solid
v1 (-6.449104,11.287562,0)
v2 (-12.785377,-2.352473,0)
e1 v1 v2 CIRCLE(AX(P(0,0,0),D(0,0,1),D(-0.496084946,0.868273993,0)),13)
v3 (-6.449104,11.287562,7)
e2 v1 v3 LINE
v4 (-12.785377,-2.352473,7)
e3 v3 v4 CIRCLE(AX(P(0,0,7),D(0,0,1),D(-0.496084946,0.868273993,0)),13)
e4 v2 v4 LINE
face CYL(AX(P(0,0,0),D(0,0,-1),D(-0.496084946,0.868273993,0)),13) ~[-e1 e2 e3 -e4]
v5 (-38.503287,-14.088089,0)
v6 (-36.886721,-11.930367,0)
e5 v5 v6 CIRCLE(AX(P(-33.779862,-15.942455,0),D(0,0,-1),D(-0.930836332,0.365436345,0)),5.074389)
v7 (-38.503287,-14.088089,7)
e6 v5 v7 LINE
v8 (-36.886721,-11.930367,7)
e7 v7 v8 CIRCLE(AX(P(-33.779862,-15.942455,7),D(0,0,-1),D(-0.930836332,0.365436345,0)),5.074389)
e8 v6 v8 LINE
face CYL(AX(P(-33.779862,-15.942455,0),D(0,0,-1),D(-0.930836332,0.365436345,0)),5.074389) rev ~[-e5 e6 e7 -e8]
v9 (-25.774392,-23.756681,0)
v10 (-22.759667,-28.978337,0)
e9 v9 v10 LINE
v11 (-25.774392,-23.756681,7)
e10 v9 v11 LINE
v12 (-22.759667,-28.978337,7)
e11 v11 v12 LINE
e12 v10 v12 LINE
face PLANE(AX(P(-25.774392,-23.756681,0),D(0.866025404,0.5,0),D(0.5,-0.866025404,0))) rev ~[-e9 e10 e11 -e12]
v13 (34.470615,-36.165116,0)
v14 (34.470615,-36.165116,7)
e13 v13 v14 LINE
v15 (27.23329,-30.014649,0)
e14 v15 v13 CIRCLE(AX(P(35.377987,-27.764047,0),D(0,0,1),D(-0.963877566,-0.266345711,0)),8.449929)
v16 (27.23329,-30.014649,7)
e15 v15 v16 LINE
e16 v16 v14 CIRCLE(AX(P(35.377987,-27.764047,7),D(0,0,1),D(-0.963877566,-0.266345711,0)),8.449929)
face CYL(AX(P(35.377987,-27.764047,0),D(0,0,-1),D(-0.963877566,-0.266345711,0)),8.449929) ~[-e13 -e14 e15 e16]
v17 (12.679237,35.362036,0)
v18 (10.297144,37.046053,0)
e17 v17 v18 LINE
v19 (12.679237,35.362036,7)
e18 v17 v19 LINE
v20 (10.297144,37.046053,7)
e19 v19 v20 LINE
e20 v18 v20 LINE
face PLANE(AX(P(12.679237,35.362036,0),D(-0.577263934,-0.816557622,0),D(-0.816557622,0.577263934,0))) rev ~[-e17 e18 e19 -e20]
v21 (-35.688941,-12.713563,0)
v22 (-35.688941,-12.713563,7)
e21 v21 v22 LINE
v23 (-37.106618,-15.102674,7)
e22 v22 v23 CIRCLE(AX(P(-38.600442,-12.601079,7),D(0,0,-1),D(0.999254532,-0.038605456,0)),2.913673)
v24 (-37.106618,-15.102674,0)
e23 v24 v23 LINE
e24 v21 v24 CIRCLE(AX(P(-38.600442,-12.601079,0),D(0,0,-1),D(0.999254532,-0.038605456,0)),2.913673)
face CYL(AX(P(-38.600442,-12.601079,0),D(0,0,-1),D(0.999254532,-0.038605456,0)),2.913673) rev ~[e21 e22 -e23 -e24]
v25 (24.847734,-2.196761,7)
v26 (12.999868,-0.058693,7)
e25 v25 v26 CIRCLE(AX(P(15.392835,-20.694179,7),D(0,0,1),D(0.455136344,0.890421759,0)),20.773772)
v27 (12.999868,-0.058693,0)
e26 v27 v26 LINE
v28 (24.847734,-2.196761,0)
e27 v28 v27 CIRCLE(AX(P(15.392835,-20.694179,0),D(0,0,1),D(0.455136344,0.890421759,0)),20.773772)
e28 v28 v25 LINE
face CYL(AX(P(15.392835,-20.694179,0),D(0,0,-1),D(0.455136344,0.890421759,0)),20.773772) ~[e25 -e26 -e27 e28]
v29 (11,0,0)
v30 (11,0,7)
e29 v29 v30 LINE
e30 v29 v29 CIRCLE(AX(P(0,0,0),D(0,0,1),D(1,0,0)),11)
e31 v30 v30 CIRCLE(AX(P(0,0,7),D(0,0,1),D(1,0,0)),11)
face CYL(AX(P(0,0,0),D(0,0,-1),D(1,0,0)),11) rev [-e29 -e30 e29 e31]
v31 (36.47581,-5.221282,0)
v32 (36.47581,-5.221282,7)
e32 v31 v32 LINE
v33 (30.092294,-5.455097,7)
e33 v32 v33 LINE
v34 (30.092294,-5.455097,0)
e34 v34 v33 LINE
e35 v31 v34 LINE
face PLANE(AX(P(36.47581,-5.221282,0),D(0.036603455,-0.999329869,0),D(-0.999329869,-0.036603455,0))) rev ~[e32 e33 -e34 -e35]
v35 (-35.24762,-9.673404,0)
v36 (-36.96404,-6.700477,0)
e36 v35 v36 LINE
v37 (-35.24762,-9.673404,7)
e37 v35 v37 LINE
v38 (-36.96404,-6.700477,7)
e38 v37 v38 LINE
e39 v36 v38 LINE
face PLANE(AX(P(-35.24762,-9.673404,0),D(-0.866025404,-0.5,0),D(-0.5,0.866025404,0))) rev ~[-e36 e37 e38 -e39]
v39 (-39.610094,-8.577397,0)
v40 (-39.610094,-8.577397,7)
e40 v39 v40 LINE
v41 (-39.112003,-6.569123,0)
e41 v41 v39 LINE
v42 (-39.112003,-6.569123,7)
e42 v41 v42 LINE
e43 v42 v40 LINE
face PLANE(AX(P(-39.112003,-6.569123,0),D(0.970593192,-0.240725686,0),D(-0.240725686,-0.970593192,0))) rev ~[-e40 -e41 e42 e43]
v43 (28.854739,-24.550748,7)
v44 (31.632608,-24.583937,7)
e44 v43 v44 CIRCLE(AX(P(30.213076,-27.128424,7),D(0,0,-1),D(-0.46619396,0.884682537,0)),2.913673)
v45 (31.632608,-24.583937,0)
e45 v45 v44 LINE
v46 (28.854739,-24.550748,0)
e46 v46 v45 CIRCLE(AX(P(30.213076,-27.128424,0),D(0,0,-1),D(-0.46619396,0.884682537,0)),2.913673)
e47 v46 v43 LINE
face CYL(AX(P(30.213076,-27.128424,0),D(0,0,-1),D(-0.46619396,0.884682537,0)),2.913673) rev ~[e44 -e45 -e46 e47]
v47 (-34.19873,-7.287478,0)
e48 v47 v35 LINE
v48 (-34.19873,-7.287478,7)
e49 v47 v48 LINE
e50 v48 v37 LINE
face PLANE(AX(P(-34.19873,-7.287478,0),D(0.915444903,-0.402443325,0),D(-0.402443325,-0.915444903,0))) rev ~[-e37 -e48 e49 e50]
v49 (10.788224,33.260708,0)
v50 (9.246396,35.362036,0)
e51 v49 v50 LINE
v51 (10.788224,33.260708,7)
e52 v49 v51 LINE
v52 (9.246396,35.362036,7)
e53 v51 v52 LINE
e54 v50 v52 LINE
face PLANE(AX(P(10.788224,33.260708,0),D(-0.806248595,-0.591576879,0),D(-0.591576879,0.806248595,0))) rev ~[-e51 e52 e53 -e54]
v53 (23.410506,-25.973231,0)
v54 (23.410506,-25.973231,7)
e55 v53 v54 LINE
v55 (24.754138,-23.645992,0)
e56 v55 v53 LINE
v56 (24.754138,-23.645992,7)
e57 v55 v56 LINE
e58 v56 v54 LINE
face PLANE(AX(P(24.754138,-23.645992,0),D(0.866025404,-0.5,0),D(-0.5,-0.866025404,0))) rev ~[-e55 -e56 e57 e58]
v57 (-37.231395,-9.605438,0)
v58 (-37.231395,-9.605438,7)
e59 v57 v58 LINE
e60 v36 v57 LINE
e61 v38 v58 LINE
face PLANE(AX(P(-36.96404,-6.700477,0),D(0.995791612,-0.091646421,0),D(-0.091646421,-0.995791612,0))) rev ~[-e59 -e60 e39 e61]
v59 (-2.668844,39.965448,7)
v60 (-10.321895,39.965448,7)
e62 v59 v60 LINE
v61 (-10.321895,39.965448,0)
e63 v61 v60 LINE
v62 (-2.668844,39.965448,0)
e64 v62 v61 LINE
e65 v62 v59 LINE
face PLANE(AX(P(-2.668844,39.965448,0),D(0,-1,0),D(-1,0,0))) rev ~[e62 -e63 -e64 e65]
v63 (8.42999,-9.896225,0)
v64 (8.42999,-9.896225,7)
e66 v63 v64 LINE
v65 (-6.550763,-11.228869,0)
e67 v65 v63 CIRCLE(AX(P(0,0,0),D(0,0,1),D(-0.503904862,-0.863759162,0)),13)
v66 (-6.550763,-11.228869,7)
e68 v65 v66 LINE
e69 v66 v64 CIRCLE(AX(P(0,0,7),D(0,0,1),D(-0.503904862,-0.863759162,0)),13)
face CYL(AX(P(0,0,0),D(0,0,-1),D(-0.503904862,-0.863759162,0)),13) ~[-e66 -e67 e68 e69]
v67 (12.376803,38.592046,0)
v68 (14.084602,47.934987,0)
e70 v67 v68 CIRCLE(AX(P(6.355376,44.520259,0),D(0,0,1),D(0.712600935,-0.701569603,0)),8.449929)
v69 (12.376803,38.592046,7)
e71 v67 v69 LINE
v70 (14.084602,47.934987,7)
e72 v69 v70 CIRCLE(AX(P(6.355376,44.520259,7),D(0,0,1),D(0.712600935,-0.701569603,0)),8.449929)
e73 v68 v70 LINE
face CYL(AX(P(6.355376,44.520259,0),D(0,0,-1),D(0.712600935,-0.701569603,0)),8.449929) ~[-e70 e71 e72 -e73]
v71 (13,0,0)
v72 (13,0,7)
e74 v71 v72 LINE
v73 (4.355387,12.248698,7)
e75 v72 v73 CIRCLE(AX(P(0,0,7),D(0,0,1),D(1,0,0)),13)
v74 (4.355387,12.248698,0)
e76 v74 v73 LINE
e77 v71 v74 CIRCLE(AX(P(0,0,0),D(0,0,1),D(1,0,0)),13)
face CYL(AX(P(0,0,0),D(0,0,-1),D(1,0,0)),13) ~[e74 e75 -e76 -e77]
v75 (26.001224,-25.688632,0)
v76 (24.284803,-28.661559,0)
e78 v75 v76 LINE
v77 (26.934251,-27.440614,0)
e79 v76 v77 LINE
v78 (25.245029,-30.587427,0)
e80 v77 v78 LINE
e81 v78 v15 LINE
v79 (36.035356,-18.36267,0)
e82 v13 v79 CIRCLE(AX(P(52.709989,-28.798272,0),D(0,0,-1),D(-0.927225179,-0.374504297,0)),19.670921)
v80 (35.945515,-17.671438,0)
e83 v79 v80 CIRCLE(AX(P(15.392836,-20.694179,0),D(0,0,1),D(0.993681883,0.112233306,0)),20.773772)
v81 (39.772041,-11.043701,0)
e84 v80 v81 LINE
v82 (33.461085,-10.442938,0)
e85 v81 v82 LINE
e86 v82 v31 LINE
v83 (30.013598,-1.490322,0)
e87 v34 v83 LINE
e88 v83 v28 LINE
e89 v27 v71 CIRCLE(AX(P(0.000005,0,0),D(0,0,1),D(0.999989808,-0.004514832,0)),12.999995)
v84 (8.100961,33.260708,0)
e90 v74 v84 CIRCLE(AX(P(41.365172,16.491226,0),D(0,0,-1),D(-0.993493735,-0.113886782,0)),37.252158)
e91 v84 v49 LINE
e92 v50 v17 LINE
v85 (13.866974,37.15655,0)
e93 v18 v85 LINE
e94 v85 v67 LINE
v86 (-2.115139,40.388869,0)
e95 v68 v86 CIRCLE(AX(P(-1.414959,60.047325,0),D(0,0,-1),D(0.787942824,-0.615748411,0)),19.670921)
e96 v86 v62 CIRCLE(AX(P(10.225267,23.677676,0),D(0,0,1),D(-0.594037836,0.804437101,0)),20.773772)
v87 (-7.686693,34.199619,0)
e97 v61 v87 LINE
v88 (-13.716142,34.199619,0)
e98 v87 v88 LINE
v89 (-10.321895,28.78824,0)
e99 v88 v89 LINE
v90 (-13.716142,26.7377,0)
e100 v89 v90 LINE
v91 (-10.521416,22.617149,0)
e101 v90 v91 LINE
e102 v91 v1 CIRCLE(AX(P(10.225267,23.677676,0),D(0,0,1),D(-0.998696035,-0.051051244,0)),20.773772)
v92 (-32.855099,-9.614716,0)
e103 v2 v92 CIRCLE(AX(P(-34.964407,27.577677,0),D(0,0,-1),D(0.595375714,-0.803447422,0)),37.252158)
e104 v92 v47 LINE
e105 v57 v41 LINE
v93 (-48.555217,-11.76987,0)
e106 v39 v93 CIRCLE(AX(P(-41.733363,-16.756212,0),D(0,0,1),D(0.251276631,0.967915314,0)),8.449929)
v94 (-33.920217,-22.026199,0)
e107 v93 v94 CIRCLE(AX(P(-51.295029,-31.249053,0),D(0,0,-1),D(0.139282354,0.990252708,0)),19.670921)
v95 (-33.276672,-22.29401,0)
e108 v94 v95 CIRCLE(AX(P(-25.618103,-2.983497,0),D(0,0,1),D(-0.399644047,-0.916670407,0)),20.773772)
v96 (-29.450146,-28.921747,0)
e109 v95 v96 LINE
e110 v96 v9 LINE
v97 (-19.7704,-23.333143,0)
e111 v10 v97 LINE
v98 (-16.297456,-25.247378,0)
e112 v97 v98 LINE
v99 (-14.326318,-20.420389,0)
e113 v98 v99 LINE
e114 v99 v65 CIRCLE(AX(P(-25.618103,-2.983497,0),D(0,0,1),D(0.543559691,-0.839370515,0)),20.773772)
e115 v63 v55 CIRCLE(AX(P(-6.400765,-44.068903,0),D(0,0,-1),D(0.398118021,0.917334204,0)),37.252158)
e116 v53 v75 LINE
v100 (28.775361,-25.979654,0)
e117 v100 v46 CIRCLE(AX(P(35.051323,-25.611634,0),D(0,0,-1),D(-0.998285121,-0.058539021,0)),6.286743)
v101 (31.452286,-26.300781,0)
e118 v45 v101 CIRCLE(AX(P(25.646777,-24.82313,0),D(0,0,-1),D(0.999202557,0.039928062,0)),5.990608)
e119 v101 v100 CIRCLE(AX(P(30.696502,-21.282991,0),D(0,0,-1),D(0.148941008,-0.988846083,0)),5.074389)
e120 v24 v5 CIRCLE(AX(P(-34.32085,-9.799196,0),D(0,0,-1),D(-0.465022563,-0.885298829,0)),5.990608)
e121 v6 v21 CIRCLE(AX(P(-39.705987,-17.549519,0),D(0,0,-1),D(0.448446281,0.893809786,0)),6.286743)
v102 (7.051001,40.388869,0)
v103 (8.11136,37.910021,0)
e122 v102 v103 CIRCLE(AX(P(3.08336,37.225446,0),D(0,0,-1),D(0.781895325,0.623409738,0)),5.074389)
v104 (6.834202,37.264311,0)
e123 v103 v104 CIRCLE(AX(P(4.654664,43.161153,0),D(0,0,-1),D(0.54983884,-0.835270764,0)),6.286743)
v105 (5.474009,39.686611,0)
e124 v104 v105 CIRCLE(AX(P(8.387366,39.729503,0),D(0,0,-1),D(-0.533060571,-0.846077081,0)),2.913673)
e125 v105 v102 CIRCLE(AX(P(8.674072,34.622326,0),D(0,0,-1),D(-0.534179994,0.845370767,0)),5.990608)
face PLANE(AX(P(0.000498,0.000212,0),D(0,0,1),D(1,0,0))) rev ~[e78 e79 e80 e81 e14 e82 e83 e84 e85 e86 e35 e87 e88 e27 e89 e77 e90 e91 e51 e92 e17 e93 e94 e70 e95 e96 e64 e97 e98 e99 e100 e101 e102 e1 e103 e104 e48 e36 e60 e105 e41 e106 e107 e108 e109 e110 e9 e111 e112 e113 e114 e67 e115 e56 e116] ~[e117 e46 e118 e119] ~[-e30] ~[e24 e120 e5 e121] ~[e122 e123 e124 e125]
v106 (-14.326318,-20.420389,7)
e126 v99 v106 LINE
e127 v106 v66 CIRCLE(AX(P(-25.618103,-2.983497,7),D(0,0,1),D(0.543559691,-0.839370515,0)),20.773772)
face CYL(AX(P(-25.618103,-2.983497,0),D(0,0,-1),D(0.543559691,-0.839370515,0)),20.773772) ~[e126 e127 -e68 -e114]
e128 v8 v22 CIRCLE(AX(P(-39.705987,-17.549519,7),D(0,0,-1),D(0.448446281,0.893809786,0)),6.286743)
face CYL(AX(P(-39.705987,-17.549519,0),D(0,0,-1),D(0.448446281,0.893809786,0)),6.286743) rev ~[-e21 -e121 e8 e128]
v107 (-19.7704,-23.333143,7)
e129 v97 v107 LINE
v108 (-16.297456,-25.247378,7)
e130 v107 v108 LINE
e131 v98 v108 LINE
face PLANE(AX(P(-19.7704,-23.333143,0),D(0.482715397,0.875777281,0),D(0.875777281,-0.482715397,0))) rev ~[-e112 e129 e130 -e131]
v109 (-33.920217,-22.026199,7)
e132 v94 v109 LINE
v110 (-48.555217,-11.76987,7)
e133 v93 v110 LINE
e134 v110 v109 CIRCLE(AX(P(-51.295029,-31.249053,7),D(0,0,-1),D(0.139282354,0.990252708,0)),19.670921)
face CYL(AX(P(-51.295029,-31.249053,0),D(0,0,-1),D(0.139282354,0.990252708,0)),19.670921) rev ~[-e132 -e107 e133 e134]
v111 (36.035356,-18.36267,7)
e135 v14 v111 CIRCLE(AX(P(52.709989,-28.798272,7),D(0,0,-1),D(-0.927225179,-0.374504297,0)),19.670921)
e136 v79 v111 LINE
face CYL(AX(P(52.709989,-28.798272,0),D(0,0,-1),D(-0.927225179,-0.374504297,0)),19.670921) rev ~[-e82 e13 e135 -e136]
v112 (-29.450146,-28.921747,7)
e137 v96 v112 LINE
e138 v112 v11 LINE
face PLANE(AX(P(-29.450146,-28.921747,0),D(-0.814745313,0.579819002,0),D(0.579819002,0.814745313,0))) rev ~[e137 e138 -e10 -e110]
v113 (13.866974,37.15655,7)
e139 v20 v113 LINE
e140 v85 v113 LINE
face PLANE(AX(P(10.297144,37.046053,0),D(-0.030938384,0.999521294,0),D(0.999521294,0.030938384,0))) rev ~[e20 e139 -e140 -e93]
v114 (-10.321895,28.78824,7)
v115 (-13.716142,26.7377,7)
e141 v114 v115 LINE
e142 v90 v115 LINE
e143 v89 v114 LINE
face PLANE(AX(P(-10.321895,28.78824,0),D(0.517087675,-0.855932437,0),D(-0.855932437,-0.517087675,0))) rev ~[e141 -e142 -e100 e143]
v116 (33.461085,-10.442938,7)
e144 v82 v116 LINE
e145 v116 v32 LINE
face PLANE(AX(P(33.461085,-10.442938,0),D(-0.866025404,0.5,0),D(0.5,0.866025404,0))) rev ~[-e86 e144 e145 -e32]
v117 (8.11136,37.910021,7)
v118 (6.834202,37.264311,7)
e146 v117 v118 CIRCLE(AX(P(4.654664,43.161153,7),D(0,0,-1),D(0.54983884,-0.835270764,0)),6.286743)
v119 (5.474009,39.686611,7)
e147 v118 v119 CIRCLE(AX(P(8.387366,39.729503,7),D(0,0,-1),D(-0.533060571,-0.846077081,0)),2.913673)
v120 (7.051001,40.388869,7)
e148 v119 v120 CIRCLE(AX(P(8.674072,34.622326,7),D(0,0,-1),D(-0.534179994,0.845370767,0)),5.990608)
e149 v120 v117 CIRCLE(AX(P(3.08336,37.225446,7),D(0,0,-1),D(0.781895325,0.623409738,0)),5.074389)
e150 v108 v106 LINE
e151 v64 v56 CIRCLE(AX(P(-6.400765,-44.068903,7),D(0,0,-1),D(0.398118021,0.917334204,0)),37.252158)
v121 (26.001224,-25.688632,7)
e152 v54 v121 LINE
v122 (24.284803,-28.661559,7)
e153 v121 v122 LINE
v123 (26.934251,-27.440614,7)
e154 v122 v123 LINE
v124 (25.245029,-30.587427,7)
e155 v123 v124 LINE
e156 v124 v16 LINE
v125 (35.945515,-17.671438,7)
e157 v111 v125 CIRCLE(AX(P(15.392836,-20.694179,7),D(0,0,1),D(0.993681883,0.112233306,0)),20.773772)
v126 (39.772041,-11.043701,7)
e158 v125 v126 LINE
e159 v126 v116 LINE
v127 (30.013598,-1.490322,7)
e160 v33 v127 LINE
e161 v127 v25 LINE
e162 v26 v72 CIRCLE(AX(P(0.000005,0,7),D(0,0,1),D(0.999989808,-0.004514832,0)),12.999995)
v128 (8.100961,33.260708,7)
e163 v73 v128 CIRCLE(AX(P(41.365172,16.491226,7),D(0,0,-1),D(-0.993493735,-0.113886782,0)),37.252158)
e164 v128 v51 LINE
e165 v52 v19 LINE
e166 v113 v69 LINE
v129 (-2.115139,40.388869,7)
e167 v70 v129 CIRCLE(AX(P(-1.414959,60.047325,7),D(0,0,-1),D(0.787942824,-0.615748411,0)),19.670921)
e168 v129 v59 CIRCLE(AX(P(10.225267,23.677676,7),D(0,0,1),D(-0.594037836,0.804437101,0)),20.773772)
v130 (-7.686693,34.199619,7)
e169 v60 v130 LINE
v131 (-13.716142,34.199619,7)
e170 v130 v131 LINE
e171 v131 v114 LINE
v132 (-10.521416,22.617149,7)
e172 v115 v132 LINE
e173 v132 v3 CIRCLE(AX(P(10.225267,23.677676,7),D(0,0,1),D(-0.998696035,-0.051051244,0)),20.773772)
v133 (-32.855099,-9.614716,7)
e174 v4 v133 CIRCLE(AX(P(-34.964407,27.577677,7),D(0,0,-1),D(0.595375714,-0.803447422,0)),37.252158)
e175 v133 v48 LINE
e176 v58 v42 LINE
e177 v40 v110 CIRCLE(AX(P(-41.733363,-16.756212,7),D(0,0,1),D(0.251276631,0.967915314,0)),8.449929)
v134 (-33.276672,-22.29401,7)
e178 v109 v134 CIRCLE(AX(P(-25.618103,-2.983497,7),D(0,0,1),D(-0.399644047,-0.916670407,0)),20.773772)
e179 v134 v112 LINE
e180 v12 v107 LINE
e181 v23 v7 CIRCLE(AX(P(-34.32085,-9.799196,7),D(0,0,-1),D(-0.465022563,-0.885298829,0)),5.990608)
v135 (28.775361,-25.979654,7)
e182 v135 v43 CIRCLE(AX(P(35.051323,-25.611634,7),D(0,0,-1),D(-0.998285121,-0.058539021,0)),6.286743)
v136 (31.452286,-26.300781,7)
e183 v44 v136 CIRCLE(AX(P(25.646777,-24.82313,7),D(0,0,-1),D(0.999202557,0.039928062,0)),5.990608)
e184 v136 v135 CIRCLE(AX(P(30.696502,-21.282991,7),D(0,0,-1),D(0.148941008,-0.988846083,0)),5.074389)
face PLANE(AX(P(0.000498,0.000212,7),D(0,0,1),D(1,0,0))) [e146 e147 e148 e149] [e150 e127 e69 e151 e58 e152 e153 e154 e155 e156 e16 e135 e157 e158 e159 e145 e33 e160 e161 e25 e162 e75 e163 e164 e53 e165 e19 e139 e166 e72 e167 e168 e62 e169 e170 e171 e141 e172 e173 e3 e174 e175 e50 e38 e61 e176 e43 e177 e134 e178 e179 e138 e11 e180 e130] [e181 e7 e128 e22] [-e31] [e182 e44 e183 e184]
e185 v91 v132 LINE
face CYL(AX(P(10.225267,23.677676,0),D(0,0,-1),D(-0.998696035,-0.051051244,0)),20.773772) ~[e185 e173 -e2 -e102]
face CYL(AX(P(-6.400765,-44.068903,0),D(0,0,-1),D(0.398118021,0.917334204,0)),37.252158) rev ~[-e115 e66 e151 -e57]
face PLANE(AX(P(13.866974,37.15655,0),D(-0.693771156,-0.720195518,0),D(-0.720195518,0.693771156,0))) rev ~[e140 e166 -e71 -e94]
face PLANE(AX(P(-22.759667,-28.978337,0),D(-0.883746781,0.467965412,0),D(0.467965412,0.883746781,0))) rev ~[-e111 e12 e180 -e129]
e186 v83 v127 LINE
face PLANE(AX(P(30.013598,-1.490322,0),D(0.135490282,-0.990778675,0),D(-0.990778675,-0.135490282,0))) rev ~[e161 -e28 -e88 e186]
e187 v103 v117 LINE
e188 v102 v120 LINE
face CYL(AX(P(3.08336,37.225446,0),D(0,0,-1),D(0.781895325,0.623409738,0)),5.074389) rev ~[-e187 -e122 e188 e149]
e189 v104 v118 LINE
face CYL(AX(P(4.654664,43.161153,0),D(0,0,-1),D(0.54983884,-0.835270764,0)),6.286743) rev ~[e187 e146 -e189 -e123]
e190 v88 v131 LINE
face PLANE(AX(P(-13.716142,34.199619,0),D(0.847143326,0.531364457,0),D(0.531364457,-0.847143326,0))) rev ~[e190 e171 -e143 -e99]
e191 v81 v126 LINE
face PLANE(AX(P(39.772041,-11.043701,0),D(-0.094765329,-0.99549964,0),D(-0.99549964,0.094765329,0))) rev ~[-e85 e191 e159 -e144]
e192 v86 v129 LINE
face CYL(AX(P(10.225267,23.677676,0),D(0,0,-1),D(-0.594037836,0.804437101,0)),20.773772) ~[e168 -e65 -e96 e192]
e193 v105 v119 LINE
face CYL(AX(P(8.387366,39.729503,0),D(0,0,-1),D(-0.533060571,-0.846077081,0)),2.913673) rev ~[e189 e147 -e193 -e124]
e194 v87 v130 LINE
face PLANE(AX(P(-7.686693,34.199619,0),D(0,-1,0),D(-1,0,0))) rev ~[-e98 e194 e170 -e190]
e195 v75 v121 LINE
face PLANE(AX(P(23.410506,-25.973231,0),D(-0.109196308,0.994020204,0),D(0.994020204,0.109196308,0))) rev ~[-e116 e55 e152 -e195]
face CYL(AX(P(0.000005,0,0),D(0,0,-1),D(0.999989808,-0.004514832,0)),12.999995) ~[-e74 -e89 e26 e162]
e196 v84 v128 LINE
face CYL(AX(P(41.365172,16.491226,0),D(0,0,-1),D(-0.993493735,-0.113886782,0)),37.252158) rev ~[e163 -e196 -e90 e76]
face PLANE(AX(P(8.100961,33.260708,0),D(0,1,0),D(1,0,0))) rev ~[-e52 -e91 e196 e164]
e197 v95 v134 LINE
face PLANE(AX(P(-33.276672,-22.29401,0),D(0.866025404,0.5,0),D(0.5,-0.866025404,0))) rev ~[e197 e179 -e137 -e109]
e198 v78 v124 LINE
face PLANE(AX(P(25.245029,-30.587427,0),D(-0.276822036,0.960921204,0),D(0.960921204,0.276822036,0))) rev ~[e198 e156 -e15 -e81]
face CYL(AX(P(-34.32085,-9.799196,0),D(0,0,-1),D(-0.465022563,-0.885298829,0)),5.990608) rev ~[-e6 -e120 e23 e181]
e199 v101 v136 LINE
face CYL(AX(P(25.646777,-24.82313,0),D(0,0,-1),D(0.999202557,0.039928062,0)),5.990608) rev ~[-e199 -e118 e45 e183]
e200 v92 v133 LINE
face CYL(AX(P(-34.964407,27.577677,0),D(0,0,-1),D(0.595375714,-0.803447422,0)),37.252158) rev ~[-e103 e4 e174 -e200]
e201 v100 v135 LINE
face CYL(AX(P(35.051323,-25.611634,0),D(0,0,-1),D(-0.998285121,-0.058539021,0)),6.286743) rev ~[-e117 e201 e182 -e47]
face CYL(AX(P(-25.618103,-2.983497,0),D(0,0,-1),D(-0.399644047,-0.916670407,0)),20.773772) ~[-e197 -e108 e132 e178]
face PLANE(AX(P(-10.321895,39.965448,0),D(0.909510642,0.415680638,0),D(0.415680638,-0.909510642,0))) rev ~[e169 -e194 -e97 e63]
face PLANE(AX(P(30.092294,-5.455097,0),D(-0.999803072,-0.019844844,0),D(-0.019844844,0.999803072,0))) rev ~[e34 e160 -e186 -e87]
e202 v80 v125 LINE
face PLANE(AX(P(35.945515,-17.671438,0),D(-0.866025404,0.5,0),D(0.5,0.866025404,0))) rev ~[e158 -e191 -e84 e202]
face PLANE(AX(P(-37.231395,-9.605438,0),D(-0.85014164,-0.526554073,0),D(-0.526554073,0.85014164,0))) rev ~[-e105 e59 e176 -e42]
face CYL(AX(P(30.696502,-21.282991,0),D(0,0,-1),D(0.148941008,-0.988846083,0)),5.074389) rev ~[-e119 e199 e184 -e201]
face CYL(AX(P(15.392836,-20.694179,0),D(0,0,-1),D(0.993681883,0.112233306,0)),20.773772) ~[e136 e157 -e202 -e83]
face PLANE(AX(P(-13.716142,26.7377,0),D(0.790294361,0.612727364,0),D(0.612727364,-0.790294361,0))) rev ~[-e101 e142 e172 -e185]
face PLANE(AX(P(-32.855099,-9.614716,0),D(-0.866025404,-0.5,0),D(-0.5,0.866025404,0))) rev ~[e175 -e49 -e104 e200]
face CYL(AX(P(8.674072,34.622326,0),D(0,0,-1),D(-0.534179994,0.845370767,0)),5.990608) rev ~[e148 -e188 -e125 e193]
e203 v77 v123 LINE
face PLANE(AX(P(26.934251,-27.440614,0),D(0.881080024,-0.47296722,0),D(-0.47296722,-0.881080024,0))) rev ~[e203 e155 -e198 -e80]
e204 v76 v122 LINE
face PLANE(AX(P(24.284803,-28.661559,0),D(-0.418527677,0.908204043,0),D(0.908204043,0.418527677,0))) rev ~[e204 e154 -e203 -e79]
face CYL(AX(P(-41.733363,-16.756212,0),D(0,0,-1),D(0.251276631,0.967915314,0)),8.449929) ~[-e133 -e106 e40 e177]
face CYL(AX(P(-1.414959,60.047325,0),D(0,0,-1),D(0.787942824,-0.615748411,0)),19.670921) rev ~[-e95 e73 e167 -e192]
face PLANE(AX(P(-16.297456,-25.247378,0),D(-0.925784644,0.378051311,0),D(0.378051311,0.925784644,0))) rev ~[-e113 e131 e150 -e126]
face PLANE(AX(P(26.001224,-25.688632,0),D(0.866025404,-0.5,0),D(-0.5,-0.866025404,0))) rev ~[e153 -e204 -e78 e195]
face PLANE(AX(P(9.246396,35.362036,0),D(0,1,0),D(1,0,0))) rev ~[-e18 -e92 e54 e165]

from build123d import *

# Parameters (mm, degrees)
F0_R     = 11
F1_DEPTH = 7


with BuildPart() as f1:
    # F0 (on Top) → F1 (new body)
    with BuildSketch(Plane.XY):
        with BuildLine():
            ThreePointArc((12.9998675053, -0.0586928035), (12.9999668763, -0.0293464765), (13, 0))
            ThreePointArc((13, 0), (10.6212058702, 7.4959979898), (4.3553867904, 12.2486981311))
            ThreePointArc((4.3553867904, 12.2486981311), (-1.1518936393, 12.9488663999), (-6.4491042938, 11.2875619072))
            ThreePointArc((-6.4491042938, 11.2875619072), (-11.7899940722, 5.4768640459), (-12.78537714, -2.3524734618))
            ThreePointArc((-12.78537714, -2.3524734618), (-10.6381004329, -7.4720023541), (-6.5507632115, -11.2288691036))
            ThreePointArc((-6.5507632115, -11.2288691036), (1.1518936393, -12.9488663999), (8.4299903496, -9.8962246693))
            ThreePointArc((8.4299903496, -9.8962246693), (11.7899940722, -5.4768640459), (12.9998675053, -0.0586928035))
        make_face()
        Circle(F0_R, mode=Mode.SUBTRACT)
        with BuildLine():
            ThreePointArc((-6.4491042938, 11.2875619072), (-1.1518936393, 12.9488663999), (4.3553867904, 12.2486981311))
            ThreePointArc((4.3553867904, 12.2486981311), (4.6911379091, 23.0286932253), (8.100961018, 33.2607081496))
            ThreePointArc((8.100961018, 33.2607081496), (8.6567992586, 34.3205730834), (9.2463958264, 35.36203634))
            ThreePointArc((9.2463958264, 35.36203634), (9.7605514778, 36.2110441588), (10.2971438318, 37.0460525155))
            ThreePointArc((10.2971438318, 37.0460525155), (11.39658988, 37.7388536244), (12.3768031473, 38.5920458302))
            ThreePointArc((12.3768031473, 38.5920458302), (14.6675808716, 43.0008688553), (14.0846017748, 47.9349866509))
            ThreePointArc((14.0846017748, 47.9349866509), (6.8911464414, 42.2160675911), (-2.1151392079, 40.388869285))
            ThreePointArc((-2.1151392079, 40.388869285), (-2.393767425, 40.1794812412), (-2.668843506, 39.965448099))
            ThreePointArc((-2.668843506, 39.965448099), (-5.4452369878, 37.3153043367), (-7.6866932218, 34.1996187496))
            ThreePointArc((-7.6866932218, 34.1996187496), (-9.9529658293, 28.6161487308), (-10.5214164041, 22.6171494036))
            ThreePointArc((-10.5214164041, 22.6171494036), (-9.323996956, 16.6508797858), (-6.4491042938, 11.2875619072))
        make_face()
        with BuildLine():
            ThreePointArc((7.051001075, 40.388869285), (8.6740724534, 40.6129338137), (10.2971438318, 40.388869285))
            ThreePointArc((10.2971438318, 40.388869285), (9.3700559238, 39.0032433011), (8.1113596557, 37.9100209718))
            ThreePointArc((8.1113596557, 37.9100209718), (7.4912144869, 37.5507062183), (6.8342023203, 37.2643111495))
            ThreePointArc((6.8342023203, 37.2643111495), (5.0310997778, 36.8856908115), (3.1956662424, 37.0460525155))
            ThreePointArc((3.1956662424, 37.0460525155), (4.1384254151, 38.5358013845), (5.4740093923, 39.6866106607))
            ThreePointArc((5.4740093923, 39.6866106607), (6.2370767108, 40.0948422534), (7.051001075, 40.388869285))
        make_face(mode=Mode.SUBTRACT)
        with BuildLine():
            ThreePointArc((24.8477341467, -2.196760812), (19.0820833679, -0.2506216642), (12.9998675053, -0.0586928035))
            ThreePointArc((12.9998675053, -0.0586928035), (11.7899940722, -5.4768640459), (8.4299903496, -9.8962246693))
            ThreePointArc((8.4299903496, -9.8962246693), (17.5978643945, -15.5769912146), (24.7541376964, -23.6459921114))
            ThreePointArc((24.7541376964, -23.6459921114), (25.3940885333, -24.6572946151), (26.0012238868, -25.6886318491))
            ThreePointArc((26.0012238868, -25.6886318491), (26.4794084001, -26.5584076141), (26.9342506724, -27.4406144026))
            ThreePointArc((26.9342506724, -27.4406144026), (26.9845110085, -28.7391631648), (27.2332904993, -30.0146488583))
            ThreePointArc((27.2332904993, -30.0146488583), (29.9060543777, -34.2029320745), (34.4706152824, -36.1651162646))
            ThreePointArc((34.4706152824, -36.1651162646), (33.1146137611, -27.075941675), (36.0353564349, -18.3626703559))
            ThreePointArc((36.0353564349, -18.3626703559), (35.9933351783, -18.0166772198), (35.9455150804, -17.6714377746))
            ThreePointArc((35.9455150804, -17.6714377746), (35.0386199994, -13.9419386073), (33.4610852478, -10.4429377737))
            ThreePointArc((33.4610852478, -10.4429377737), (29.758794674, -5.6885531142), (24.8477341467, -2.196760812))
        make_face()
        with BuildLine():
            ThreePointArc((28.8547389499, -24.5507483987), (29.42839539, -22.7999056223), (30.4849894672, -21.2905544057))
            ThreePointArc((30.4849894672, -21.2905544057), (31.3037702466, -22.8518822334), (31.6326083261, -24.5839365246))
            ThreePointArc((31.6326083261, -24.5839365246), (31.6046135967, -25.4488880036), (31.4522862935, -26.3007806955))
            ThreePointArc((31.4522862935, -26.3007806955), (30.8347961782, -27.8184340058), (29.829214915, -29.1120227873))
            ThreePointArc((29.829214915, -29.1120227873), (29.0927715668, -27.6163281154), (28.7753613917, -25.979654007))
            ThreePointArc((28.7753613917, -25.979654007), (28.7742582717, -25.26293516), (28.8547389499, -24.5507483987))
        make_face(mode=Mode.SUBTRACT)
        with BuildLine():
            ThreePointArc((-6.5507632115, -11.2288691036), (-10.6381004329, -7.4720023541), (-12.78537714, -2.3524734618))
            ThreePointArc((-12.78537714, -2.3524734618), (-22.2890023036, -7.4517020107), (-32.8550987144, -9.6147160382))
            ThreePointArc((-32.8550987144, -9.6147160382), (-34.0508877919, -9.6632784683), (-35.2476197132, -9.6734044909))
            ThreePointArc((-35.2476197132, -9.6734044909), (-36.2399598779, -9.6526365446), (-37.2313945043, -9.6054381129))
            ThreePointArc((-37.2313945043, -9.6054381129), (-38.3811008885, -8.9996904596), (-39.6100936466, -8.5773969719))
            ThreePointArc((-39.6100936466, -8.5773969719), (-44.5736352493, -8.7979367808), (-48.5552170572, -11.7698703863))
            ThreePointArc((-48.5552170572, -11.7698703863), (-40.0057602025, -15.1401259161), (-33.920217227, -22.0261989291))
            ThreePointArc((-33.920217227, -22.0261989291), (-33.5995677532, -22.1628040214), (-33.2766715744, -22.2940103244))
            ThreePointArc((-33.2766715744, -22.2940103244), (-29.5933830117, -23.3733657294), (-25.774392026, -23.756680976))
            ThreePointArc((-25.774392026, -23.756680976), (-19.8058288446, -22.9275956166), (-14.3263177426, -20.4203885915))
            ThreePointArc((-14.3263177426, -20.4203885915), (-9.7580864119, -16.4002581216), (-6.5507632115, -11.2288691036))
        make_face()
        with BuildLine():
            ThreePointArc((-35.6889412702, -12.7135627508), (-34.4594951678, -14.0857851892), (-33.6806557096, -15.7554981098))
            ThreePointArc((-33.6806557096, -15.7554981098), (-35.4421956617, -15.6839191511), (-37.1066177184, -15.1026741361))
            ThreePointArc((-37.1066177184, -15.1026741361), (-37.8416903076, -14.6459542498), (-38.5032873684, -14.0880885895))
            ThreePointArc((-38.5032873684, -14.0880885895), (-39.5088686316, -12.7944998079), (-40.1263587469, -11.2768464977))
            ThreePointArc((-40.1263587469, -11.2768464977), (-38.4628274906, -11.3869151857), (-36.8867210474, -11.9303669648))
            ThreePointArc((-36.8867210474, -11.9303669648), (-36.2654727586, -12.2877710583), (-35.6889412702, -12.7135627508))
        make_face(mode=Mode.SUBTRACT)
        with BuildLine():
            Line((-13.7161424013, 26.7376997309), (-10.5214164041, 22.6171494036))
            ThreePointArc((-10.5214164041, 22.6171494036), (-9.9529658293, 28.6161487308), (-7.6866932218, 34.1996187496))
            Line((-7.6866932218, 34.1996187496), (-13.7161424013, 34.1996187496))
            Line((-13.7161424013, 34.1996187496), (-10.3218945159, 28.7882397874))
            Line((-10.3218945159, 28.7882397874), (-13.7161424013, 26.7376997309))
        make_face()
        with BuildLine():
            Line((30.0135984064, -1.490322104), (24.8477341467, -2.196760812))
            ThreePointArc((24.8477341467, -2.196760812), (29.758794674, -5.6885531142), (33.4610852478, -10.4429377737))
            Line((33.4610852478, -10.4429377737), (36.4758098376, -5.2212816134))
            Line((36.4758098376, -5.2212816134), (30.0922942441, -5.4550970278))
            Line((30.0922942441, -5.4550970278), (30.0135984064, -1.490322104))
        make_face()
        with BuildLine():
            Line((-16.2974560051, -25.2473776269), (-14.3263177426, -20.4203885915))
            ThreePointArc((-14.3263177426, -20.4203885915), (-19.8058288446, -22.9275956166), (-25.774392026, -23.756680976))
            Line((-25.774392026, -23.756680976), (-22.7596674363, -28.9783371363))
            Line((-22.7596674363, -28.9783371363), (-19.7703997282, -23.3331427596))
            Line((-19.7703997282, -23.3331427596), (-16.2974560051, -25.2473776269))
        make_face()
        with BuildLine():
            Line((-10.3218945159, 39.965448099), (-7.6866932218, 34.1996187496))
            ThreePointArc((-7.6866932218, 34.1996187496), (-5.4452369878, 37.3153043367), (-2.668843506, 39.965448099))
            Line((-2.668843506, 39.965448099), (-10.3218945159, 39.965448099))
        make_face()
        with BuildLine():
            Line((39.7720405853, -11.0437011836), (33.4610852478, -10.4429377737))
            ThreePointArc((33.4610852478, -10.4429377737), (35.0386199994, -13.9419386073), (35.9455150804, -17.6714377746))
            Line((35.9455150804, -17.6714377746), (39.7720405853, -11.0437011836))
        make_face()
        with BuildLine():
            Line((-29.4501460694, -28.9217469154), (-25.774392026, -23.756680976))
            ThreePointArc((-25.774392026, -23.756680976), (-29.5933830117, -23.3733657294), (-33.2766715744, -22.2940103244))
            Line((-33.2766715744, -22.2940103244), (-29.4501460694, -28.9217469154))
        make_face()
        with BuildLine():
            ThreePointArc((31.6326083261, -24.5839365246), (31.3037702466, -22.8518822334), (30.4849894672, -21.2905544057))
            ThreePointArc((30.4849894672, -21.2905544057), (29.42839539, -22.7999056223), (28.8547389499, -24.5507483987))
            ThreePointArc((28.8547389499, -24.5507483987), (30.2478836802, -24.2149589832), (31.6326083261, -24.5839365246))
        make_face()
        with BuildLine():
            ThreePointArc((6.8342023203, 37.2643111495), (5.846827791, 38.3029151694), (5.4740093923, 39.6866106607))
            ThreePointArc((5.4740093923, 39.6866106607), (4.1384254151, 38.5358013845), (3.1956662424, 37.0460525155))
            ThreePointArc((3.1956662424, 37.0460525155), (5.0310997778, 36.8856908115), (6.8342023203, 37.2643111495))
        make_face()
        with BuildLine():
            ThreePointArc((-37.1066177184, -15.1026741361), (-35.4421956617, -15.6839191511), (-33.6806557096, -15.7554981098))
            ThreePointArc((-33.6806557096, -15.7554981098), (-34.4594951678, -14.0857851892), (-35.6889412702, -12.7135627508))
            ThreePointArc((-35.6889412702, -12.7135627508), (-36.0947114712, -14.0879561862), (-37.1066177184, -15.1026741361))
        make_face()
        with BuildLine():
            ThreePointArc((31.4522862935, -26.3007806955), (30.0921060745, -26.3212575331), (28.7753613917, -25.979654007))
            ThreePointArc((28.7753613917, -25.979654007), (29.0927715668, -27.6163281154), (29.829214915, -29.1120227873))
            ThreePointArc((29.829214915, -29.1120227873), (30.8347961782, -27.8184340058), (31.4522862935, -26.3007806955))
        make_face()
        with BuildLine():
            ThreePointArc((8.1113596557, 37.9100209718), (9.3700559238, 39.0032433011), (10.2971438318, 40.388869285))
            ThreePointArc((10.2971438318, 40.388869285), (8.6740724534, 40.6129338137), (7.051001075, 40.388869285))
            ThreePointArc((7.051001075, 40.388869285), (7.7488246459, 39.2211570805), (8.1113596557, 37.9100209718))
        make_face()
        with BuildLine():
            ThreePointArc((-38.5032873684, -14.0880885895), (-37.8409307205, -12.8998995474), (-36.8867210474, -11.9303669648))
            ThreePointArc((-36.8867210474, -11.9303669648), (-38.4628274906, -11.3869151857), (-40.1263587469, -11.2768464977))
            ThreePointArc((-40.1263587469, -11.2768464977), (-39.5088686316, -12.7944998079), (-38.5032873684, -14.0880885895))
        make_face()
        with BuildLine():
            ThreePointArc((10.2971438318, 37.0460525155), (9.7605514778, 36.2110441588), (9.2463958264, 35.36203634))
            Line((9.2463958264, 35.36203634), (12.6792366009, 35.36203634))
            Line((12.6792366009, 35.36203634), (10.2971438318, 37.0460525155))
        make_face()
        with BuildLine():
            ThreePointArc((26.9342506724, -27.4406144026), (26.4794084001, -26.5584076141), (26.0012238868, -25.6886318491))
            Line((26.0012238868, -25.6886318491), (24.2848034995, -28.661559167))
            Line((24.2848034995, -28.661559167), (26.9342506724, -27.4406144026))
        make_face()
        with BuildLine():
            ThreePointArc((-37.2313945043, -9.6054381129), (-36.2399598779, -9.6526365446), (-35.2476197132, -9.6734044909))
            Line((-35.2476197132, -9.6734044909), (-36.9640401004, -6.700477173))
            Line((-36.9640401004, -6.700477173), (-37.2313945043, -9.6054381129))
        make_face()
        with BuildLine():
            ThreePointArc((9.2463958264, 35.36203634), (8.6567992586, 34.3205730834), (8.100961018, 33.2607081496))
            Line((8.100961018, 33.2607081496), (10.7882244635, 33.2607081496))
            Line((10.7882244635, 33.2607081496), (9.2463958264, 35.36203634))
        make_face()
        with BuildLine():
            ThreePointArc((26.0012238868, -25.6886318491), (25.3940885333, -24.6572946151), (24.7541376964, -23.6459921114))
            Line((24.7541376964, -23.6459921114), (23.4105059737, -25.9732305219))
            Line((23.4105059737, -25.9732305219), (26.0012238868, -25.6886318491))
        make_face()
        with BuildLine():
            ThreePointArc((-35.2476197132, -9.6734044909), (-34.0508877919, -9.6632784683), (-32.8550987144, -9.6147160382))
            Line((-32.8550987144, -9.6147160382), (-34.1987304372, -7.2874776277))
            Line((-34.1987304372, -7.2874776277), (-35.2476197132, -9.6734044909))
        make_face()
        with BuildLine():
            ThreePointArc((12.3768031473, 38.5920458302), (11.39658988, 37.7388536244), (10.2971438318, 37.0460525155))
            Line((10.2971438318, 37.0460525155), (13.8669739614, 37.1565501872))
            Line((13.8669739614, 37.1565501872), (12.3768031473, 38.5920458302))
        make_face()
        with BuildLine():
            ThreePointArc((27.2332904993, -30.0146488583), (26.9845110085, -28.7391631648), (26.9342506724, -27.4406144026))
            Line((26.9342506724, -27.4406144026), (25.2450293984, -30.5874268178))
            Line((25.2450293984, -30.5874268178), (27.2332904993, -30.0146488583))
        make_face()
        with BuildLine():
            ThreePointArc((-39.6100936466, -8.5773969719), (-38.3811008885, -8.9996904596), (-37.2313945043, -9.6054381129))
            Line((-37.2313945043, -9.6054381129), (-39.1120033598, -6.5691233694))
            Line((-39.1120033598, -6.5691233694), (-39.6100936466, -8.5773969719))
        make_face()
    extrude(amount=F1_DEPTH)


solid = f1.part
